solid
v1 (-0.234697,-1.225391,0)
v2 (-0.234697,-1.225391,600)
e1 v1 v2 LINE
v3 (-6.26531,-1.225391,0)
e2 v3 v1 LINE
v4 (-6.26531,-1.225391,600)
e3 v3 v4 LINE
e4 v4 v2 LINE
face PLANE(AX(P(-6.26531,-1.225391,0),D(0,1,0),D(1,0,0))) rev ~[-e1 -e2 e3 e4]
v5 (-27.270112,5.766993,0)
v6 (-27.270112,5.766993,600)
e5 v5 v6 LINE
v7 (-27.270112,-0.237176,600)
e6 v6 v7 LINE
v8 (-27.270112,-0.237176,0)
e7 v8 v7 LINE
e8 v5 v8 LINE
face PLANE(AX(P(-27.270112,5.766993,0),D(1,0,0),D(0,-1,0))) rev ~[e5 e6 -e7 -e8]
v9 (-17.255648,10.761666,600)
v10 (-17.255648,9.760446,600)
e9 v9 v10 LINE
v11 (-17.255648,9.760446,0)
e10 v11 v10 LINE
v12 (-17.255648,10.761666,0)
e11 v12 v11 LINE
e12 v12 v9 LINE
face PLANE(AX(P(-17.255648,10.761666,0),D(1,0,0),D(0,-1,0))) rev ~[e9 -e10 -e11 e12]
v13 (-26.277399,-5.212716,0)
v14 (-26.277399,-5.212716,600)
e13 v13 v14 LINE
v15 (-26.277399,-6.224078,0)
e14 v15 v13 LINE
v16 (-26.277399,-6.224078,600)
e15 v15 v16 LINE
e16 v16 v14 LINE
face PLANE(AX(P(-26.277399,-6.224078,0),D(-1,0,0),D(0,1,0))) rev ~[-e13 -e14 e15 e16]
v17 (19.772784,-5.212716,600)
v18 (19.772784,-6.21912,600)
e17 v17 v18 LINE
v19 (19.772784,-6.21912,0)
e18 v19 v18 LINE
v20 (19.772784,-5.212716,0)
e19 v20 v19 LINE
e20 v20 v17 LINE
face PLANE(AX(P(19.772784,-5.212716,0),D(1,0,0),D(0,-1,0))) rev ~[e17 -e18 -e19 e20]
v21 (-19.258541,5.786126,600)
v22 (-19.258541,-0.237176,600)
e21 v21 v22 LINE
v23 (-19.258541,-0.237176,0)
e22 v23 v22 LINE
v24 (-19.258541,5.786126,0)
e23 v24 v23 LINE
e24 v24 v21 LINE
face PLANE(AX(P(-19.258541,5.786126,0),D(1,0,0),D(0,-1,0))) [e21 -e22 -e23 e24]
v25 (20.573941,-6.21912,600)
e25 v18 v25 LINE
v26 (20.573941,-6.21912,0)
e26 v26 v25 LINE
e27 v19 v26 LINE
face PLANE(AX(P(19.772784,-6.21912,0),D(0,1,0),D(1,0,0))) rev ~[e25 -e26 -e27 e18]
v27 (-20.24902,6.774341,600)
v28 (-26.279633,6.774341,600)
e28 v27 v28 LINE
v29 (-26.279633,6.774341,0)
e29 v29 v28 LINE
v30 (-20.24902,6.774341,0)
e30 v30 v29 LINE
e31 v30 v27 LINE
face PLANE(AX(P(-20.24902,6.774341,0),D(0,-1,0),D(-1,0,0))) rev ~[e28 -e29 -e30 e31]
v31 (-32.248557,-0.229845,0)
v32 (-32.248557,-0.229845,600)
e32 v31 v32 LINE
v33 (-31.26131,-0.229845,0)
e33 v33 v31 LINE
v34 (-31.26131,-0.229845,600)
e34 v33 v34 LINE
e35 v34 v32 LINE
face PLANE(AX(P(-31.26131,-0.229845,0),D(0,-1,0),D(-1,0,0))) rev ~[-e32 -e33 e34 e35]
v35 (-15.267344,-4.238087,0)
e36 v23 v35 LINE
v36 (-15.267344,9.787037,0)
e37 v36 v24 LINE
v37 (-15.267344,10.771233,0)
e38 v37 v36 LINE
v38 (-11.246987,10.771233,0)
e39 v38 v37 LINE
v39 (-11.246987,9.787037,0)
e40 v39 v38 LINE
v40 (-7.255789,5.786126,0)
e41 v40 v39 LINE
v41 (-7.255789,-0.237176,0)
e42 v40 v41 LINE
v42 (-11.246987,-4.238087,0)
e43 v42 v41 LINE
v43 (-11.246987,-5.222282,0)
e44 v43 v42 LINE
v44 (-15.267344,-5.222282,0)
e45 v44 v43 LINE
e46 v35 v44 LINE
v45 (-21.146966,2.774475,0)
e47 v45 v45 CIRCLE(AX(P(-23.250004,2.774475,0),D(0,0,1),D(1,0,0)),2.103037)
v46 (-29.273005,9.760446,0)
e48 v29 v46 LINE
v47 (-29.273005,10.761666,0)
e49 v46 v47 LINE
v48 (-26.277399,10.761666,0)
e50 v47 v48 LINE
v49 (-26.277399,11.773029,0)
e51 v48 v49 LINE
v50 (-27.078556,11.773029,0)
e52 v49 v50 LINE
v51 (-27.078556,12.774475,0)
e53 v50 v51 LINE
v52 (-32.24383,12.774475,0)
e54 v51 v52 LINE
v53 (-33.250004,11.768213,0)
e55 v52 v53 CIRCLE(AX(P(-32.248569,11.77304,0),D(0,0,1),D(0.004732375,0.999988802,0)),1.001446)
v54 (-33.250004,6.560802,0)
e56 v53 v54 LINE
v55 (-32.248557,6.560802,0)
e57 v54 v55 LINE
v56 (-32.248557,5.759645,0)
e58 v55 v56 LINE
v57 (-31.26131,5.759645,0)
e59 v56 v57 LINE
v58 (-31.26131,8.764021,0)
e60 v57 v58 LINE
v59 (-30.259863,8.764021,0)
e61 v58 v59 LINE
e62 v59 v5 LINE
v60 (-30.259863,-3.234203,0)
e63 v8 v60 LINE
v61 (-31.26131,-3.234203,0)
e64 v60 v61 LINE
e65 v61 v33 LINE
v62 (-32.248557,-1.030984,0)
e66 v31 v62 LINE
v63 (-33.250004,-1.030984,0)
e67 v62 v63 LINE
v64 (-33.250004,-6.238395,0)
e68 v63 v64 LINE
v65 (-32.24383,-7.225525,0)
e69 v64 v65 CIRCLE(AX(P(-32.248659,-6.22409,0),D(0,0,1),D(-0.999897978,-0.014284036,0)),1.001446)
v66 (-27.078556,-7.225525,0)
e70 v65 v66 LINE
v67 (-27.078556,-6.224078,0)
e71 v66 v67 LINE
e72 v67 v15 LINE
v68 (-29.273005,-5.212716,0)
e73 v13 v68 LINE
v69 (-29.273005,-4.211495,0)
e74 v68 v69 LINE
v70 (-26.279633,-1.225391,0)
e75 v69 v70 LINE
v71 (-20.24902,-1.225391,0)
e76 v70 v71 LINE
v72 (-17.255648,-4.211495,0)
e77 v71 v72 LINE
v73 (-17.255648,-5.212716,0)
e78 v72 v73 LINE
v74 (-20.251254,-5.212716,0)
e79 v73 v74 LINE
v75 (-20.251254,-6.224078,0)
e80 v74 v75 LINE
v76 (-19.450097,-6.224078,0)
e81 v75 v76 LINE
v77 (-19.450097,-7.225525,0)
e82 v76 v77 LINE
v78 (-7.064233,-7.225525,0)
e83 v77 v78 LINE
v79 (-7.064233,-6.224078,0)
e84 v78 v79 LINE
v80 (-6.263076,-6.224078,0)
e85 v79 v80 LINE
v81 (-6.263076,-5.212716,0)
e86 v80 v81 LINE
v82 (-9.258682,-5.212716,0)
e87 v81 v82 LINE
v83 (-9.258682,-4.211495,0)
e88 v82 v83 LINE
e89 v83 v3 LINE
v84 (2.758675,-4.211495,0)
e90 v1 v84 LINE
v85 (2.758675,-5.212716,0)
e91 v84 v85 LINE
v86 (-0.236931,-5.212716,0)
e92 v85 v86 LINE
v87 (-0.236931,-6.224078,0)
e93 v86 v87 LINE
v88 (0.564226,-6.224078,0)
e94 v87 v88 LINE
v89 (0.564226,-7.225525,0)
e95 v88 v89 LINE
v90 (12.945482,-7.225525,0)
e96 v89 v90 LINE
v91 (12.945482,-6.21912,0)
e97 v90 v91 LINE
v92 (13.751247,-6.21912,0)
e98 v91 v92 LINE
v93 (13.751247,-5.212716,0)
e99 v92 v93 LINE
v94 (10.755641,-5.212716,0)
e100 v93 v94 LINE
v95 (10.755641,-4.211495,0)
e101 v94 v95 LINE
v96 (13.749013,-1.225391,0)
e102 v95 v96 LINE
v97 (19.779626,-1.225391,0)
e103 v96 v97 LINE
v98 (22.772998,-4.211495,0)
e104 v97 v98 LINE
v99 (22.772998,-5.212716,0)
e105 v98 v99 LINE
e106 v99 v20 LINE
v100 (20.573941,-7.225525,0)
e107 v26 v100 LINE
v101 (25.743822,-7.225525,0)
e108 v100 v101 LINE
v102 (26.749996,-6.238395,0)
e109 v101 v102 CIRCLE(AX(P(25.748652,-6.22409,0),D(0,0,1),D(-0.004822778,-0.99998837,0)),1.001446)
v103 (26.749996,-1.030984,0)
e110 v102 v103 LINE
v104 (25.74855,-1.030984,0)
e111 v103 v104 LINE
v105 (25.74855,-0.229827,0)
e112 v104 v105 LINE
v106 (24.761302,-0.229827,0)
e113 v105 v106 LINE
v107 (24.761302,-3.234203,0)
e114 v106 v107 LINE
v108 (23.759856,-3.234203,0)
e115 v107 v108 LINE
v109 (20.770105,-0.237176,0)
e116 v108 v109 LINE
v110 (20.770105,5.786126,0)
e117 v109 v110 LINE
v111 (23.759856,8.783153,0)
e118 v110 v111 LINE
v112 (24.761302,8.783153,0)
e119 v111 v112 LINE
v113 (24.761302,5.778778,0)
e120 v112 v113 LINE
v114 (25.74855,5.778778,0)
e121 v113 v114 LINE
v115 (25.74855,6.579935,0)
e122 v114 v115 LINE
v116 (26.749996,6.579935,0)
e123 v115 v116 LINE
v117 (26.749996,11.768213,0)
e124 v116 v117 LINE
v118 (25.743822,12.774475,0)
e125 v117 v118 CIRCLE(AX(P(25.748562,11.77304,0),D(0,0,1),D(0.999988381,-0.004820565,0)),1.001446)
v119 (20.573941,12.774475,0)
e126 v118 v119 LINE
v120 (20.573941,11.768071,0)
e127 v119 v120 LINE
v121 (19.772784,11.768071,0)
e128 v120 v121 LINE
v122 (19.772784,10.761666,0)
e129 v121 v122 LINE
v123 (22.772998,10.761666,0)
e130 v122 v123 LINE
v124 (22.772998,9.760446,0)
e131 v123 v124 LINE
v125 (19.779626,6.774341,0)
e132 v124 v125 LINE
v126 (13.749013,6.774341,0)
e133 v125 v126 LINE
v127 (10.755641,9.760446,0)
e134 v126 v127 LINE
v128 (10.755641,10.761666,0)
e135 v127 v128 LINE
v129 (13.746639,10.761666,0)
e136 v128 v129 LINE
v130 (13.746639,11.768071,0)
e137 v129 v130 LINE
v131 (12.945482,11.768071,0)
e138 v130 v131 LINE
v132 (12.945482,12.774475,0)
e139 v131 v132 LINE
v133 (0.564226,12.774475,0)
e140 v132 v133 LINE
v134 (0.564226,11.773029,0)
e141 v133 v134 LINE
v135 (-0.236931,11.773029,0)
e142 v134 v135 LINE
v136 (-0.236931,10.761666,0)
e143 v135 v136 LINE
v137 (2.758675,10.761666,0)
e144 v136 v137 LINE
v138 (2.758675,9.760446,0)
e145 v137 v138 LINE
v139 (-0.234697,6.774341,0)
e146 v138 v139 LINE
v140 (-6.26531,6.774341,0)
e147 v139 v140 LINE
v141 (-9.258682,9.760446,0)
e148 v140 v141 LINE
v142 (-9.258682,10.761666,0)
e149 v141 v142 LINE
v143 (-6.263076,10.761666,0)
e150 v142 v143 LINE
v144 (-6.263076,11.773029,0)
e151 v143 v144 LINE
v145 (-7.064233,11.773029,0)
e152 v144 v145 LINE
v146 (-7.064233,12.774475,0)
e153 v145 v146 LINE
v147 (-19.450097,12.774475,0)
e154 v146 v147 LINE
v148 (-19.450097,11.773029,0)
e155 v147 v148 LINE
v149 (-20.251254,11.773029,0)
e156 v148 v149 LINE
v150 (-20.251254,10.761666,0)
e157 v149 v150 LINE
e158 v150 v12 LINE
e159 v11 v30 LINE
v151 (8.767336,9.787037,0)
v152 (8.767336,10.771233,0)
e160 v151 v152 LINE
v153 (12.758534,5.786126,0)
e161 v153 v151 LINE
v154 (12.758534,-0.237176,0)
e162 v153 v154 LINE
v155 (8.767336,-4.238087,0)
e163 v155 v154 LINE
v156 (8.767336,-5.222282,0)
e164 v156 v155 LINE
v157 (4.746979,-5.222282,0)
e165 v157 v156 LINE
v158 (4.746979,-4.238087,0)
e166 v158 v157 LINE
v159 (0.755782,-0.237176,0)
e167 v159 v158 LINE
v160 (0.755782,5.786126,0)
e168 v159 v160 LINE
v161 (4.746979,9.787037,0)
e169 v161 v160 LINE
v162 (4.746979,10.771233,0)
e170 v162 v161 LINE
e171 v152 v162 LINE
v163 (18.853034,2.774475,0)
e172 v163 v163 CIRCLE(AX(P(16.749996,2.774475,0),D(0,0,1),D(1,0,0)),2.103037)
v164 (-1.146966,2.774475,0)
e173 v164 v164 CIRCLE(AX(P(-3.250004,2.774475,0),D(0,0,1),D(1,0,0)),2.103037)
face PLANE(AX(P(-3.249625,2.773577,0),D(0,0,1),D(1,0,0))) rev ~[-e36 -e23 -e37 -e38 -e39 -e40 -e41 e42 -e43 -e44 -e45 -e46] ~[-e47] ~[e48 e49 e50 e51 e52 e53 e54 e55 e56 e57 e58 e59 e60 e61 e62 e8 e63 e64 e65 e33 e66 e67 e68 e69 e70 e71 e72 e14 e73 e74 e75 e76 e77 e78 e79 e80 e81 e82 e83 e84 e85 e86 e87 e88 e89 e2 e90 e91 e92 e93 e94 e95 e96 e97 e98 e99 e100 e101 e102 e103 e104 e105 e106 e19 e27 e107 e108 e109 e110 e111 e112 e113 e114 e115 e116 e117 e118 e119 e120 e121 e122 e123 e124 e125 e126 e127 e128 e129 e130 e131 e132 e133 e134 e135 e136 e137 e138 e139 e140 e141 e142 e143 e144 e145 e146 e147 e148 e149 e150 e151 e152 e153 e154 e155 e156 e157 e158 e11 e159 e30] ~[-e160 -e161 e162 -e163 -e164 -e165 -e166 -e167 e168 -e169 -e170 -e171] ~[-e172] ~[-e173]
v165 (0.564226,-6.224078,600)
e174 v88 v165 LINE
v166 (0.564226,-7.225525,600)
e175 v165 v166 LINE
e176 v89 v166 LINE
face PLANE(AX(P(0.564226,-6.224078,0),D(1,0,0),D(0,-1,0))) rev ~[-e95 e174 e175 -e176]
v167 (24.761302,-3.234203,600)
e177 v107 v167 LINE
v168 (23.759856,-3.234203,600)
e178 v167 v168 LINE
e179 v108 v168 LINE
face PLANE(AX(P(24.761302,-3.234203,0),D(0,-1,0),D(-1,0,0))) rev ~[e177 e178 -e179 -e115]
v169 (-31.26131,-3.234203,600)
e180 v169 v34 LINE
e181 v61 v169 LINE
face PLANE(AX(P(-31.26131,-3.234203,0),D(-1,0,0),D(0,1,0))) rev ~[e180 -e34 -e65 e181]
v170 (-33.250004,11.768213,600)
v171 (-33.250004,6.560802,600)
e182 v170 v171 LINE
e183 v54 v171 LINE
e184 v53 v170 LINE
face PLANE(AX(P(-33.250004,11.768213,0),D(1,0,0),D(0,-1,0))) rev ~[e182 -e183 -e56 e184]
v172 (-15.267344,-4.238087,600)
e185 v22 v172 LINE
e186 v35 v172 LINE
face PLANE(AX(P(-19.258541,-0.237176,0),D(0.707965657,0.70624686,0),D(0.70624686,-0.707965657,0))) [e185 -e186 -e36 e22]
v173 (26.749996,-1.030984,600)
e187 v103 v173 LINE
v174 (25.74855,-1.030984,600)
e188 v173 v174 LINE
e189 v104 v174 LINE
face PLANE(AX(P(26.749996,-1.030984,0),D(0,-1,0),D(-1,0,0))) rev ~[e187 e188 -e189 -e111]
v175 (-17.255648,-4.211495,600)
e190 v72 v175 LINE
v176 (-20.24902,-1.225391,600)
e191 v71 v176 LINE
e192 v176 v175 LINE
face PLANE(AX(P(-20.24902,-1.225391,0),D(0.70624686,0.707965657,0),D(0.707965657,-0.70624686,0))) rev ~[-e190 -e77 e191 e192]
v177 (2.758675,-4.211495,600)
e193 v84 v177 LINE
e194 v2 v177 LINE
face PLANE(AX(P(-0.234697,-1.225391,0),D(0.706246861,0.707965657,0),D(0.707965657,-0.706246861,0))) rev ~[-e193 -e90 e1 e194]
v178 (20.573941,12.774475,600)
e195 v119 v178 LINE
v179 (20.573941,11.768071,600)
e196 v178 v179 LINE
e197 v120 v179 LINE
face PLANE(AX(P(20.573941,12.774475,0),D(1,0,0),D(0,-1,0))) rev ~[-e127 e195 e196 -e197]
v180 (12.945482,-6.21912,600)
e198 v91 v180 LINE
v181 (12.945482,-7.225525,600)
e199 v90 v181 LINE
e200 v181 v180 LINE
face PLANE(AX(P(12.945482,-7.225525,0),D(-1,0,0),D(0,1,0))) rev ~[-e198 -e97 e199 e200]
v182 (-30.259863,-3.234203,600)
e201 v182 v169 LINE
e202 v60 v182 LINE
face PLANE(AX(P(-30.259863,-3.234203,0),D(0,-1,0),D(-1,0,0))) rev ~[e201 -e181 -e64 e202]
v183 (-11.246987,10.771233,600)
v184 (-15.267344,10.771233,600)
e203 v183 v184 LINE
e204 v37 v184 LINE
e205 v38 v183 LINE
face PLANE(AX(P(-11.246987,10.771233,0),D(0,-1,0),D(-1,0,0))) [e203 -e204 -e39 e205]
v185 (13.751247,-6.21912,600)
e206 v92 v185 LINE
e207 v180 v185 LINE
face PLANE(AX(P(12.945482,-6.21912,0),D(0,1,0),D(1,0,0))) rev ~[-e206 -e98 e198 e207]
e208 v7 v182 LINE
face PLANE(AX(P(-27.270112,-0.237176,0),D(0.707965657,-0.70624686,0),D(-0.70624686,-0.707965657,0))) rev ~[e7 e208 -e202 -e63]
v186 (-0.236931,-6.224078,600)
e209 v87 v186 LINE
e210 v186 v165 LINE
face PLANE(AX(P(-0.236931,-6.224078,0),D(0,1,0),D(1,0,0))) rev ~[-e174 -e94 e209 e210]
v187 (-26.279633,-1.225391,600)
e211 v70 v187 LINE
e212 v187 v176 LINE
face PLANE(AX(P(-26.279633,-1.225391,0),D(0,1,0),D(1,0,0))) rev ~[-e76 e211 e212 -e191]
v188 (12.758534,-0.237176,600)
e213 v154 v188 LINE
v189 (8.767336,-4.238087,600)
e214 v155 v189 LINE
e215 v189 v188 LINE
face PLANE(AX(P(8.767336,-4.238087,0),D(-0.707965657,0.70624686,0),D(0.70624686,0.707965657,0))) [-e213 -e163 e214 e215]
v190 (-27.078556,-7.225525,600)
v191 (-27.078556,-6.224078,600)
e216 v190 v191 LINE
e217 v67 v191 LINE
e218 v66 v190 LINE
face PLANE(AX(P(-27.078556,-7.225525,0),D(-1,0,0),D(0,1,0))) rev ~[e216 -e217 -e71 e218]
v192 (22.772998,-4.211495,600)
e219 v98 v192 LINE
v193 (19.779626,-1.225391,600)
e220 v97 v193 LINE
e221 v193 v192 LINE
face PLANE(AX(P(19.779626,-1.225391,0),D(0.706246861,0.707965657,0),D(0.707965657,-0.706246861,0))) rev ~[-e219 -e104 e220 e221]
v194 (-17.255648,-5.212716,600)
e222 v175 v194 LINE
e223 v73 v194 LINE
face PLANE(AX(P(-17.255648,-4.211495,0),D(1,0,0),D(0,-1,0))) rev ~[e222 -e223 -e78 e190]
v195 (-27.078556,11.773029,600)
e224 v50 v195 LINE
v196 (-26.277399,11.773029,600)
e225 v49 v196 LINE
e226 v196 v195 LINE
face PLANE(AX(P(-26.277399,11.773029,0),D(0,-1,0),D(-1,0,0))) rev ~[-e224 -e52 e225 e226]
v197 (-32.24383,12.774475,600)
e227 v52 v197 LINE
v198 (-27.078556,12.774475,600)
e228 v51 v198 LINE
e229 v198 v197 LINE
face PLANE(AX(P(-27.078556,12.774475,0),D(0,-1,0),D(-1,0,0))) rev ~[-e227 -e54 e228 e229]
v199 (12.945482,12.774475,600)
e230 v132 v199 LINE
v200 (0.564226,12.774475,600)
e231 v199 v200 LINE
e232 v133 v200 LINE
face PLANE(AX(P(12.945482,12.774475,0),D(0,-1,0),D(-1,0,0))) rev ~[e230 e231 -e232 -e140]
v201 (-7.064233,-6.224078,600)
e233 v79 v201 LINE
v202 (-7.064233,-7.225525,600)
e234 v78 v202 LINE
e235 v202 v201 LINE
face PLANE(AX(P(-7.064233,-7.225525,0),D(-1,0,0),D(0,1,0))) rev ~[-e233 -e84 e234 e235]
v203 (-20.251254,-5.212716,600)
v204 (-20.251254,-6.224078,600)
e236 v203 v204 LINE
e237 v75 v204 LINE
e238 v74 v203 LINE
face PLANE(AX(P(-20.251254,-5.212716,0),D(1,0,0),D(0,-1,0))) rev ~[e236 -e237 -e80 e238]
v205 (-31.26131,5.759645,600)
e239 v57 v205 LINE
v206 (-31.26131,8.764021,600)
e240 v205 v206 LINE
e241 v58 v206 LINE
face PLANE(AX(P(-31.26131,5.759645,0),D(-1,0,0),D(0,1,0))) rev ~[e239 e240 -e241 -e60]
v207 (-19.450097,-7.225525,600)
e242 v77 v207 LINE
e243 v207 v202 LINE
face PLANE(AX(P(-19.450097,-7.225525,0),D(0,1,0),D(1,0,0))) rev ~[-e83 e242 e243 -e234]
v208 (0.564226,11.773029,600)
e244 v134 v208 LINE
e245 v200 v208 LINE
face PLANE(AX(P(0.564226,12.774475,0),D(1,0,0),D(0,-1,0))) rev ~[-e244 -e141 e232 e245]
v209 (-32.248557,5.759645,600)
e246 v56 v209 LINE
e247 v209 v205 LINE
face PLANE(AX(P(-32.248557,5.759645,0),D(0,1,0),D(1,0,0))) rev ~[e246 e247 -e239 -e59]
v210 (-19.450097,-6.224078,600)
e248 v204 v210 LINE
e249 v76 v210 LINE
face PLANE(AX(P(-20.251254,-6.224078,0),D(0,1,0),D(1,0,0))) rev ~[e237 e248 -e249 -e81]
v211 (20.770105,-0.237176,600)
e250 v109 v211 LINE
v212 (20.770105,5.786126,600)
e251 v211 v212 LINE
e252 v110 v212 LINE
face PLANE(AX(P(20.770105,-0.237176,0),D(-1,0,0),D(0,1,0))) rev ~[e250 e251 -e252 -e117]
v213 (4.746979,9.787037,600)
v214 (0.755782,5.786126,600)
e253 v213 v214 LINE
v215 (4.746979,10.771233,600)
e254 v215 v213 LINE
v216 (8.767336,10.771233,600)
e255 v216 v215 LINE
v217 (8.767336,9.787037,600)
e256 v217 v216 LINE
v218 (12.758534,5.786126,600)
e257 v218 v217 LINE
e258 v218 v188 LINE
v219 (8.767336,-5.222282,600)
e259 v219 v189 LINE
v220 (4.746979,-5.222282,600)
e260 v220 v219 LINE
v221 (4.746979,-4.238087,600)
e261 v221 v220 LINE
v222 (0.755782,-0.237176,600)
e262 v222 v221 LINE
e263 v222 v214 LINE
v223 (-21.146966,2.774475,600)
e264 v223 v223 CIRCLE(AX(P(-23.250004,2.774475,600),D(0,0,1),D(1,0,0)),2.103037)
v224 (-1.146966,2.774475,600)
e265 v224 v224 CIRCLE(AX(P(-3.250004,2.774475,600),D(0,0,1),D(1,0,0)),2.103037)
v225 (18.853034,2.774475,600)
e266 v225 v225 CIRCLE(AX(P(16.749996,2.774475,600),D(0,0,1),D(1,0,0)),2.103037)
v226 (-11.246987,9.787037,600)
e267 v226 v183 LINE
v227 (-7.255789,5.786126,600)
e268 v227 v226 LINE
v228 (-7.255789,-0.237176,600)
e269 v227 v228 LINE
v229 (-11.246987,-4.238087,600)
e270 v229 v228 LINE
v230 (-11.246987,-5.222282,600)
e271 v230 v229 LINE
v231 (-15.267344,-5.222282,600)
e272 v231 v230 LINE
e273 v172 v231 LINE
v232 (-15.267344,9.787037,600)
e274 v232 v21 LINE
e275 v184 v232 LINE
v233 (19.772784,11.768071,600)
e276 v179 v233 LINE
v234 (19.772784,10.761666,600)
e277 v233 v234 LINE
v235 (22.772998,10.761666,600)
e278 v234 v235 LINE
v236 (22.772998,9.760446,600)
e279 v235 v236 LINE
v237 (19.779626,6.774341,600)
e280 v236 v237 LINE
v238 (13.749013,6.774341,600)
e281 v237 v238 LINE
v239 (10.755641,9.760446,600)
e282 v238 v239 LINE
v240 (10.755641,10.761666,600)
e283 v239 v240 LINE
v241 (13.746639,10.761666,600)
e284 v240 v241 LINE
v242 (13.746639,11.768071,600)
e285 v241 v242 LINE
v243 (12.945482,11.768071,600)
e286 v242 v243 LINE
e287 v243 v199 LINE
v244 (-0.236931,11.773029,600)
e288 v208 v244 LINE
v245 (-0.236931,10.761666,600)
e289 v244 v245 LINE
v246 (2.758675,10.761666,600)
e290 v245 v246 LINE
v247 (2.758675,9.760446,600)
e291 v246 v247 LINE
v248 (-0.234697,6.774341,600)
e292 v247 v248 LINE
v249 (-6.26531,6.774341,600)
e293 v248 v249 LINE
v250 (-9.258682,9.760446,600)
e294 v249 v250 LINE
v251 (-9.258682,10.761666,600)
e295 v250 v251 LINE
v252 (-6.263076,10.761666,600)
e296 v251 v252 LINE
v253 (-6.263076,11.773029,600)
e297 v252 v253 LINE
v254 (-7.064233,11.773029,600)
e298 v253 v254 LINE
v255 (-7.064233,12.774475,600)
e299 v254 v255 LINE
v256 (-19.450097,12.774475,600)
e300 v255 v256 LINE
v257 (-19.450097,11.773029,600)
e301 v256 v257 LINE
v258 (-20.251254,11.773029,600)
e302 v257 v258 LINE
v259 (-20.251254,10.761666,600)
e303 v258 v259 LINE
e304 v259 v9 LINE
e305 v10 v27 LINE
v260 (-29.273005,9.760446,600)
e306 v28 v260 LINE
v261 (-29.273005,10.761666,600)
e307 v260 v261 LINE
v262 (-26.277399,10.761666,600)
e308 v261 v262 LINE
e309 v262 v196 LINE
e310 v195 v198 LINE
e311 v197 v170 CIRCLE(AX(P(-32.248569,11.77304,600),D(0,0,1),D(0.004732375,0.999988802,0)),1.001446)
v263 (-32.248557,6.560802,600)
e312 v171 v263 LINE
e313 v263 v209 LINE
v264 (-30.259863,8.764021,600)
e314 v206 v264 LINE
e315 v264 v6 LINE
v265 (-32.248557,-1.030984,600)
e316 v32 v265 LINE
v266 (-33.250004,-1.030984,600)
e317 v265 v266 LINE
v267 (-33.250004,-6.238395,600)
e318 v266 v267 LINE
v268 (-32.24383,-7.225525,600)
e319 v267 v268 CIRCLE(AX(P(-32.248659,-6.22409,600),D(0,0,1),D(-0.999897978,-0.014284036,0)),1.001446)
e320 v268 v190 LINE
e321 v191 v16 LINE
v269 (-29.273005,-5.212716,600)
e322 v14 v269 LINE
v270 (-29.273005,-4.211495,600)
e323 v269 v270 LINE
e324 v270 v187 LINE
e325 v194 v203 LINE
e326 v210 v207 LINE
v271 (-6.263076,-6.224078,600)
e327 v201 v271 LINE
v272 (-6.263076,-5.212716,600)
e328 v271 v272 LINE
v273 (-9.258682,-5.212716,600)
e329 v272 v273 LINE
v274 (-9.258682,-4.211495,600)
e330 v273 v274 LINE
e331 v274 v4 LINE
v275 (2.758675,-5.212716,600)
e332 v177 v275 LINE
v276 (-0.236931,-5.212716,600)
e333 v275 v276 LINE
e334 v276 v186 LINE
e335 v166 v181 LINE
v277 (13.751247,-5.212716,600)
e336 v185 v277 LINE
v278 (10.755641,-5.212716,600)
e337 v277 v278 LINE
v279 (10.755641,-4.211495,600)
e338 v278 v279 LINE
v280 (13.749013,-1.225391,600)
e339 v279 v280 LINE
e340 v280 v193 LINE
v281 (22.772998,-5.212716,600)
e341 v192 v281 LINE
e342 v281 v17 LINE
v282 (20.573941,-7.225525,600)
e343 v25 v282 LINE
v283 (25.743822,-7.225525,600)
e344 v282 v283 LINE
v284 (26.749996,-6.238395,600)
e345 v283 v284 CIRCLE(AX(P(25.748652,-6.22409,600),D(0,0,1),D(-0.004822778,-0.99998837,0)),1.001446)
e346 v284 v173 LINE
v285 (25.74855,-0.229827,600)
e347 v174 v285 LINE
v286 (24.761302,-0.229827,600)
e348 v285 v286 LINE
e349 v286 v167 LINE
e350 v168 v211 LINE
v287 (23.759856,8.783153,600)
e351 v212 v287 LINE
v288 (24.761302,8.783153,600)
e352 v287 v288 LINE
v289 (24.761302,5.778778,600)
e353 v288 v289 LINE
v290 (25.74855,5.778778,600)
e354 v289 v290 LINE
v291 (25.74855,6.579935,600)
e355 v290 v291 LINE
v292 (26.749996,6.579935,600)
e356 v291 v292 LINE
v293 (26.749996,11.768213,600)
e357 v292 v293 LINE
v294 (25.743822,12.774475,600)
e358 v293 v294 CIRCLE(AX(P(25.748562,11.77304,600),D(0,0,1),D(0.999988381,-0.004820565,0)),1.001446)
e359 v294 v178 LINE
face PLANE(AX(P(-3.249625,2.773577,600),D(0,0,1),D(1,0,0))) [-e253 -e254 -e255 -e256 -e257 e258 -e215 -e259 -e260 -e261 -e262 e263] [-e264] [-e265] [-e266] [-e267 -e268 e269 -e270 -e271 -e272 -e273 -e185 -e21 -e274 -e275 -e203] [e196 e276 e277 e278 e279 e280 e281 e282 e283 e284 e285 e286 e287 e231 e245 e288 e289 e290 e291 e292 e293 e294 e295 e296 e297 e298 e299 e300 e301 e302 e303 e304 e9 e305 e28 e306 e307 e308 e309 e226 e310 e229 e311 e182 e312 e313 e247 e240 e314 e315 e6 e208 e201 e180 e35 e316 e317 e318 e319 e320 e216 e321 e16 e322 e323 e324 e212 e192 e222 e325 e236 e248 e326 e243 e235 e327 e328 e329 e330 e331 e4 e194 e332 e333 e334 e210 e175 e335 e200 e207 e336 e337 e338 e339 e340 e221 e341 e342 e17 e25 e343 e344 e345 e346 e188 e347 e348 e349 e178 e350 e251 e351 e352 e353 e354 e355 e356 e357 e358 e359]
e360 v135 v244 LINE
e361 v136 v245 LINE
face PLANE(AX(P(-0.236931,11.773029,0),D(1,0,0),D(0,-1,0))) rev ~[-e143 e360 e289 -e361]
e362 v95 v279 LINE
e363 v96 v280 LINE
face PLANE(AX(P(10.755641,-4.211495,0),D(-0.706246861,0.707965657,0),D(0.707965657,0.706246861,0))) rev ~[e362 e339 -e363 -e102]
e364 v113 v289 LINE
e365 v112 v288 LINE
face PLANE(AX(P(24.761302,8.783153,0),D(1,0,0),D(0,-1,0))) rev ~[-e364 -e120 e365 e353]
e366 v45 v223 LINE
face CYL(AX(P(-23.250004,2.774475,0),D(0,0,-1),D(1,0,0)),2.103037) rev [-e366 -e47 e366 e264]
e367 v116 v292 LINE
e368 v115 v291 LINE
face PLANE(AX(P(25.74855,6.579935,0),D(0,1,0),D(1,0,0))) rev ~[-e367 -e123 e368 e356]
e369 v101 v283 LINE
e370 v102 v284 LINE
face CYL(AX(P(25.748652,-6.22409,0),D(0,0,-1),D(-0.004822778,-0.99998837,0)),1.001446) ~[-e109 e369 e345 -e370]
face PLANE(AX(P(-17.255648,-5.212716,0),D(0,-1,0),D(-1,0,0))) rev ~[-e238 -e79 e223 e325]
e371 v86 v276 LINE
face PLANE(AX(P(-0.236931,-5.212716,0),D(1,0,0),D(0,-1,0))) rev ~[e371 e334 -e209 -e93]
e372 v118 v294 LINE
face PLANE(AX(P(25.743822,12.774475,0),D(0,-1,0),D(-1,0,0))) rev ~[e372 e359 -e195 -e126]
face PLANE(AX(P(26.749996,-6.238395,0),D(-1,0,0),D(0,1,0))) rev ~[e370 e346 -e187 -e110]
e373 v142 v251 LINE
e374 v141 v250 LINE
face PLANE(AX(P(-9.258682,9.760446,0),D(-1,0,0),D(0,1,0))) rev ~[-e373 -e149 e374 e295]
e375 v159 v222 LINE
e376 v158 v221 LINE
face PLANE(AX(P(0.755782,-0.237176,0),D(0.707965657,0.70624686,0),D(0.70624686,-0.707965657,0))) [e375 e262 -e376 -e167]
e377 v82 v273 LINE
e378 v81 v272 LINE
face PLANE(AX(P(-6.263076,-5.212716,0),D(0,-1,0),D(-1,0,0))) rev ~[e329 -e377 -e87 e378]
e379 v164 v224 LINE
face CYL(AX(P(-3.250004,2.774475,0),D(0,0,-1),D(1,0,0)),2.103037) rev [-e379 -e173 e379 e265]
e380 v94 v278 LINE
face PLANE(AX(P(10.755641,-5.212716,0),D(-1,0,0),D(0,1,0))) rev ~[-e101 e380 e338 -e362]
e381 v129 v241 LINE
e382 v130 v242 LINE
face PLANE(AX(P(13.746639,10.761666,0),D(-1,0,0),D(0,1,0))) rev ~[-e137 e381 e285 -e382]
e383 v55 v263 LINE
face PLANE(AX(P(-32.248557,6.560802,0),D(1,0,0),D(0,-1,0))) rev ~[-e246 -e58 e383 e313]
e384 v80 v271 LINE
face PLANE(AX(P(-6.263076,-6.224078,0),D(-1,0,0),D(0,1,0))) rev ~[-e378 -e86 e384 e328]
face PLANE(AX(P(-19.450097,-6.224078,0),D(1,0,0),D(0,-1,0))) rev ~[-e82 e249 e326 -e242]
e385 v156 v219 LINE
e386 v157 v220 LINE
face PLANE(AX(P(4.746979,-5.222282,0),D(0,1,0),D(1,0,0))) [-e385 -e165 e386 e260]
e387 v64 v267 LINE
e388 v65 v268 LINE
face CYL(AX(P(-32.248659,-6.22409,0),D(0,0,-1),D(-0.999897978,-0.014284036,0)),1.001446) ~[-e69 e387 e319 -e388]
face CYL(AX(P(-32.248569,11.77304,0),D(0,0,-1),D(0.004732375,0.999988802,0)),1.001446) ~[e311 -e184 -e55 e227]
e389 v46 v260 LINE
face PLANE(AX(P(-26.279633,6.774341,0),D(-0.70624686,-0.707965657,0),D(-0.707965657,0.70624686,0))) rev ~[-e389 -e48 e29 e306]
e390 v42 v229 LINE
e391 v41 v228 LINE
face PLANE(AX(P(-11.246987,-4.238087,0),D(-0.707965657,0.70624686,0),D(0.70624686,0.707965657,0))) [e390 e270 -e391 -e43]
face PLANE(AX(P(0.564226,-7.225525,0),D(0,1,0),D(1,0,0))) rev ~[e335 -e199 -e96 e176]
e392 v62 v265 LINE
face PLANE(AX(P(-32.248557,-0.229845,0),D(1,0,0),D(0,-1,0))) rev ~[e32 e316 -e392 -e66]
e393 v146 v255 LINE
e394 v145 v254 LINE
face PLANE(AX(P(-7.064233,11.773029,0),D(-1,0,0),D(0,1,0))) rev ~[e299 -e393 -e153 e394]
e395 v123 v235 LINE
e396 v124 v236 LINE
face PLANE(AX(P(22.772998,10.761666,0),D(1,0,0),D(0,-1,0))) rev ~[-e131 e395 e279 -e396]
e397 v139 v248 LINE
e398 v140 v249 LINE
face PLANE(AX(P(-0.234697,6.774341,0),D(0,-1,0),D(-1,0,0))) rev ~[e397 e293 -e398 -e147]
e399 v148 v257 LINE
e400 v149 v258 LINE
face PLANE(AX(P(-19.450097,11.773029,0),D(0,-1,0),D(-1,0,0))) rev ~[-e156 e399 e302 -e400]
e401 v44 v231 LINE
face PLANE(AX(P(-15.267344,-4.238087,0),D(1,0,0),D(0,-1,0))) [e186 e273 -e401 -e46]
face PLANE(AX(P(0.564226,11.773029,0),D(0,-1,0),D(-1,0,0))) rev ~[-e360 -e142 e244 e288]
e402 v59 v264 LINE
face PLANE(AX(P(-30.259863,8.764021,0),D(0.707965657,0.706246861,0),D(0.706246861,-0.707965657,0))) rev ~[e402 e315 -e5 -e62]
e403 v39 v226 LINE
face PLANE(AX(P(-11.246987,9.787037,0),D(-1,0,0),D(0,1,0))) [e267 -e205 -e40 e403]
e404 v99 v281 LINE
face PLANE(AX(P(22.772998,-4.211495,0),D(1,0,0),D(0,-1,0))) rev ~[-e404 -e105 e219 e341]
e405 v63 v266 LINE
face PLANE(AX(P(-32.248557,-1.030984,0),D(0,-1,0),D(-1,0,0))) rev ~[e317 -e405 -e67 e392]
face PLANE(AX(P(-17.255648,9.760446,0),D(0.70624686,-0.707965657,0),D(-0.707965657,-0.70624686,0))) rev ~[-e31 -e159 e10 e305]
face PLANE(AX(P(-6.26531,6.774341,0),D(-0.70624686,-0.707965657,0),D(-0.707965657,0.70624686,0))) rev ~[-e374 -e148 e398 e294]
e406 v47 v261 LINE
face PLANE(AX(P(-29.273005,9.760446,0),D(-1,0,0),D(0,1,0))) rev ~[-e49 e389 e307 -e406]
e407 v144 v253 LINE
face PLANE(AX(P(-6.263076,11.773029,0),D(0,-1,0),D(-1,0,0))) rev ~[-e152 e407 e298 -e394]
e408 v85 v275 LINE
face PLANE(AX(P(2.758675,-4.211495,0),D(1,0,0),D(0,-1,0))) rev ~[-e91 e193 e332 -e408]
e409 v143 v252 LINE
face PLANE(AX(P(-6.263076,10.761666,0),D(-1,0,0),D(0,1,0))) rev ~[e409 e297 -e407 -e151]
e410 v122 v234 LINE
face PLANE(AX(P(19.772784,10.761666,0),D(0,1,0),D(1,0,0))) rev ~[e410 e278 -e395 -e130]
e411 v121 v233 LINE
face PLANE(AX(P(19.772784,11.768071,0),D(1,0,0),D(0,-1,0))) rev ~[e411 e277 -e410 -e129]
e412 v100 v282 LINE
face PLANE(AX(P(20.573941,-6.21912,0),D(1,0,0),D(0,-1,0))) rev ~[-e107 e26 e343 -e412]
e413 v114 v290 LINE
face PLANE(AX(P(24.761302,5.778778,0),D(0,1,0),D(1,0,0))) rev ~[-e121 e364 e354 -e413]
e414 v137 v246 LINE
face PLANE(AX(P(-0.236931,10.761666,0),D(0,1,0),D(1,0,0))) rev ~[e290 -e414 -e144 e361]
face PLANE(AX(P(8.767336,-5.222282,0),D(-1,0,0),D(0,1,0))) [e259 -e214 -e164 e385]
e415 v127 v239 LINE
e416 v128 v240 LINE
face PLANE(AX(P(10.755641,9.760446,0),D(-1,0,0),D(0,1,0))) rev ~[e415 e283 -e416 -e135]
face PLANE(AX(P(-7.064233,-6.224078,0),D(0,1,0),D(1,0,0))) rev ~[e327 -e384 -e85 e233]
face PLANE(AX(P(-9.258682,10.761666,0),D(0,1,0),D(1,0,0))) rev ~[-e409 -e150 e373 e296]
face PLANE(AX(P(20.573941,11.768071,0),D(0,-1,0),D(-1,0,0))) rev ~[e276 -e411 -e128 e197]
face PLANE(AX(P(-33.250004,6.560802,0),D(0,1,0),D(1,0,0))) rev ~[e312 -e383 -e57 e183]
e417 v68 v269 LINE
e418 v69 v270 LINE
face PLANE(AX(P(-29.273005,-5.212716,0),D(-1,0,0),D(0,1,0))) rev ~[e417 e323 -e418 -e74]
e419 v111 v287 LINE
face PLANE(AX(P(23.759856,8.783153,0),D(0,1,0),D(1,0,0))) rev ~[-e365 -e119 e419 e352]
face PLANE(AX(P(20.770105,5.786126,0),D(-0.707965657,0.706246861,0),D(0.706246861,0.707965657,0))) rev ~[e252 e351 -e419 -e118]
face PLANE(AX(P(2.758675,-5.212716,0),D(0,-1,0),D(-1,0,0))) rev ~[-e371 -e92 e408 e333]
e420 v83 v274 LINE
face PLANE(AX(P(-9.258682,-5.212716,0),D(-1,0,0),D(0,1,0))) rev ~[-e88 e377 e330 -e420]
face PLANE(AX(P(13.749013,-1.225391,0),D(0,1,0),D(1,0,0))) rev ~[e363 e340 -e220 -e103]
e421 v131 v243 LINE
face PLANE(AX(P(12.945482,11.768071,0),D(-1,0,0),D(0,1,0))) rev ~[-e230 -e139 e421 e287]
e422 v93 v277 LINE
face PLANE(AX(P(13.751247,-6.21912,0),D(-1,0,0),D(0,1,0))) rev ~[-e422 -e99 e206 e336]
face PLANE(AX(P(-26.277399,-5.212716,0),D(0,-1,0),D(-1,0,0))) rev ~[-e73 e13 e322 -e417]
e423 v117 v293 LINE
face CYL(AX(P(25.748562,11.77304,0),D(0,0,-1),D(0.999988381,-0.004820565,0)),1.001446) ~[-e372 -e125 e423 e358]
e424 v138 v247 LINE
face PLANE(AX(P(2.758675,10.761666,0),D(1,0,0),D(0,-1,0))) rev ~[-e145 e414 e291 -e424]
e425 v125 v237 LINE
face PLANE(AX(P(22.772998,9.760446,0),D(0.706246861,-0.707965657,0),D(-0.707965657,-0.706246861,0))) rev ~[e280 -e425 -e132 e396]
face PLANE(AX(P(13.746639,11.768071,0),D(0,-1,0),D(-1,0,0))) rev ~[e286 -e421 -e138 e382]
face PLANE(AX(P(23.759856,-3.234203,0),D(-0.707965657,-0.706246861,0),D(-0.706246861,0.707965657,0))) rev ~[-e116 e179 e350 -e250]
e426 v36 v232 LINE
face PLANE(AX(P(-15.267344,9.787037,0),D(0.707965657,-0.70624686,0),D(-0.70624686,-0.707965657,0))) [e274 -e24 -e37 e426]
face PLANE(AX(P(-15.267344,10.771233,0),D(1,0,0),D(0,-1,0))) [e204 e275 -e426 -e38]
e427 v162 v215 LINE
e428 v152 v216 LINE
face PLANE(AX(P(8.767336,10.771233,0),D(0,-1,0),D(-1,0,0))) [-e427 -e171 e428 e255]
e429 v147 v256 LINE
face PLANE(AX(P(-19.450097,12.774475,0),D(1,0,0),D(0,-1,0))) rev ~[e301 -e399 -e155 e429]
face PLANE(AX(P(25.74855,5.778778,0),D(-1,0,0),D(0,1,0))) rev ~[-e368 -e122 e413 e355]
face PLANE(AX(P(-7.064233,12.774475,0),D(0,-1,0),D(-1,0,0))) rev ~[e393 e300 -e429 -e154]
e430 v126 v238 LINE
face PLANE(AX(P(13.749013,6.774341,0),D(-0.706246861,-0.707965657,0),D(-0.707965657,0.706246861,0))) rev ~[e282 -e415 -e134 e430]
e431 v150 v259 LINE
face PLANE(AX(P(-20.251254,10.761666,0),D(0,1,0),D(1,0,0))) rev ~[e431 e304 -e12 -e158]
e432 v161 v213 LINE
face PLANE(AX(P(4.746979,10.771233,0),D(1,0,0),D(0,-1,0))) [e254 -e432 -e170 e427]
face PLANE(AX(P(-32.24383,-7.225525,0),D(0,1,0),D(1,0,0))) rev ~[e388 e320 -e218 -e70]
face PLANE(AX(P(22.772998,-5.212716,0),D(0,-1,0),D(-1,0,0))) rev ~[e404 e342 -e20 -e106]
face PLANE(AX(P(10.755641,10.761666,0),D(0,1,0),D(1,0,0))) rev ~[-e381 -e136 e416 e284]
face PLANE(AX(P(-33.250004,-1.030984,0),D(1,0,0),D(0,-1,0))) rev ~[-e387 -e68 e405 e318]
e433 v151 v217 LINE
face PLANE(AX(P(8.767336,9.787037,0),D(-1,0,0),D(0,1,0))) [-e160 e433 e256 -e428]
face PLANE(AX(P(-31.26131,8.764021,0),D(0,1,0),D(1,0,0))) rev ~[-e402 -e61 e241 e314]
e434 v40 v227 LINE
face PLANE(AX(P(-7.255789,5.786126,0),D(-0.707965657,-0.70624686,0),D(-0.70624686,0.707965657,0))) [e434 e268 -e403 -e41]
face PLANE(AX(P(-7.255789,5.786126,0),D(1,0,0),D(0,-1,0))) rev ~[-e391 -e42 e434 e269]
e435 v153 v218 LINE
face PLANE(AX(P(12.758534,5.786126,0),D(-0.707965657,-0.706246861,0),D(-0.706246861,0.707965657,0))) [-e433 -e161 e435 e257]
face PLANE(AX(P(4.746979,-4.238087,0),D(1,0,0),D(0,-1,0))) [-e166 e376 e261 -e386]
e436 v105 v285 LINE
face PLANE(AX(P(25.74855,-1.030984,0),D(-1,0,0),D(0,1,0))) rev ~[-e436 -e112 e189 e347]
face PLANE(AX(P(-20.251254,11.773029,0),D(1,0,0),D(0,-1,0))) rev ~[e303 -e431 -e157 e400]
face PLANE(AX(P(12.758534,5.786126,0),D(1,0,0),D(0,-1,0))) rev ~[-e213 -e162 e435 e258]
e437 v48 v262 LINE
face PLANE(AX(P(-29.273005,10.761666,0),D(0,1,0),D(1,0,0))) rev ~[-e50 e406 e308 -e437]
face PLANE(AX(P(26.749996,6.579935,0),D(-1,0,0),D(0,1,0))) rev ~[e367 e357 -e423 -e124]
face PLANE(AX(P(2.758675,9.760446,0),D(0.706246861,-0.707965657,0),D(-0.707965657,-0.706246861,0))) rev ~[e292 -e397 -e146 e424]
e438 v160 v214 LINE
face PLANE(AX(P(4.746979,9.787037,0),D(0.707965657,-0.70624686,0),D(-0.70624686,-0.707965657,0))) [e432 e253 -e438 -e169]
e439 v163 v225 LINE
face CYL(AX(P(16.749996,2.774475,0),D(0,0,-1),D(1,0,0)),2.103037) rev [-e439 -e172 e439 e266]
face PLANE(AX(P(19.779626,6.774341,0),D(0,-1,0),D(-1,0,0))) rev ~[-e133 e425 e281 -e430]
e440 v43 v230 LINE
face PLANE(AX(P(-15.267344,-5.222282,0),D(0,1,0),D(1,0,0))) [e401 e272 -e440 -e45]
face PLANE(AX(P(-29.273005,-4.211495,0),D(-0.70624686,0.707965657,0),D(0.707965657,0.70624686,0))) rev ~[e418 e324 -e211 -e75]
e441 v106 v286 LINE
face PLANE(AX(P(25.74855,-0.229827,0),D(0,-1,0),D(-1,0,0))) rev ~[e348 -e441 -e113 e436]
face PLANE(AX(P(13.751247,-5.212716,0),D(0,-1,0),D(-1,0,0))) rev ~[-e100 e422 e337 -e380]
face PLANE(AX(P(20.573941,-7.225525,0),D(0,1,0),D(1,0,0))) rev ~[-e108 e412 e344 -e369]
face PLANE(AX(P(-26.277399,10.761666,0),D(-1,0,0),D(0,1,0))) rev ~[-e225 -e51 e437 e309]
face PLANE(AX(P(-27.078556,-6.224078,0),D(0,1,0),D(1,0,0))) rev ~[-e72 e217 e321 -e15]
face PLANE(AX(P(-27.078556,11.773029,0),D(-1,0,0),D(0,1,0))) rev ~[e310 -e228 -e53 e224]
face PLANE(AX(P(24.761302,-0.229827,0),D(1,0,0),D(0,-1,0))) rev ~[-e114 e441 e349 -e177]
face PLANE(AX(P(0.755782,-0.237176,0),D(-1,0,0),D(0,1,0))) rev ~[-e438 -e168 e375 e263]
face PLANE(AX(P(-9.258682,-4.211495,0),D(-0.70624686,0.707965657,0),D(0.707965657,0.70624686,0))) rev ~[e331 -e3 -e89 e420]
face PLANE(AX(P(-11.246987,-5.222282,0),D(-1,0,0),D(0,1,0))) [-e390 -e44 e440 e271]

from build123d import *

# Parameters (mm, degrees)
SKETCH_1_R      = 2.103037388
EXTRUDE_1_DEPTH = 600


with BuildPart() as part:
    # 草图1 → 凸台-拉伸1 (new body)
    with BuildSketch(Plane.XY):
        with BuildLine():
            Line((-32.248557314, -0.229845073), (-32.248557314, -1.030984477))
            Line((-32.248557314, -1.030984477), (-33.250003689, -1.030984477))
            Line((-33.250003689, -1.030984477), (-33.250003689, -6.238394755))
            ThreePointArc((-33.250003689, -6.238394755), (-32.949991565, -6.938952391), (-32.24382973, -7.225524788))
            Line((-32.24382973, -7.225524788), (-27.078556151, -7.225524788))
            Line((-27.078556151, -7.225524788), (-27.078556151, -6.224078413))
            Line((-27.078556151, -6.224078413), (-26.277399051, -6.224078413))
            Line((-26.277399051, -6.224078413), (-26.277399051, -5.212715786))
            Line((-26.277399051, -5.212715786), (-29.27300496, -5.212715786))
            Line((-29.27300496, -5.212715786), (-29.27300496, -4.211495229))
            Line((-29.27300496, -4.211495229), (-26.279632969, -1.225390538))
            Line((-26.279632969, -1.225390538), (-20.24902045, -1.225390538))
            Line((-20.24902045, -1.225390538), (-17.255648459, -4.211495229))
            Line((-17.255648459, -4.211495229), (-17.255648459, -5.212715786))
            Line((-17.255648459, -5.212715786), (-20.251254368, -5.212715786))
            Line((-20.251254368, -5.212715786), (-20.251254368, -6.224078413))
            Line((-20.251254368, -6.224078413), (-19.450097268, -6.224078413))
            Line((-19.450097268, -6.224078413), (-19.450097268, -7.225524788))
            Line((-19.450097268, -7.225524788), (-7.064233131, -7.225524788))
            Line((-7.064233131, -7.225524788), (-7.064233131, -6.224078413))
            Line((-7.064233131, -6.224078413), (-6.263076031, -6.224078413))
            Line((-6.263076031, -6.224078413), (-6.263076031, -5.212715786))
            Line((-6.263076031, -5.212715786), (-9.25868194, -5.212715786))
            Line((-9.25868194, -5.212715786), (-9.25868194, -4.211495229))
            Line((-9.25868194, -4.211495229), (-6.265309949, -1.225390538))
            Line((-6.265309949, -1.225390538), (-0.234697429, -1.225390538))
            Line((-0.234697429, -1.225390538), (2.758674561, -4.211495229))
            Line((2.758674561, -4.211495229), (2.758674561, -5.212715786))
            Line((2.758674561, -5.212715786), (-0.236931348, -5.212715786))
            Line((-0.236931348, -5.212715786), (-0.236931348, -6.224078413))
            Line((-0.236931348, -6.224078413), (0.564225752, -6.224078413))
            Line((0.564225752, -6.224078413), (0.564225752, -7.225524788))
            Line((0.564225752, -7.225524788), (12.945482254, -7.225524788))
            Line((12.945482254, -7.225524788), (12.945482254, -6.219120287))
            Line((12.945482254, -6.219120287), (13.751246989, -6.219120287))
            Line((13.751246989, -6.219120287), (13.751246989, -5.212715786))
            Line((13.751246989, -5.212715786), (10.755641081, -5.212715786))
            Line((10.755641081, -5.212715786), (10.755641081, -4.211495229))
            Line((10.755641081, -4.211495229), (13.749013071, -1.225390538))
            Line((13.749013071, -1.225390538), (19.779625591, -1.225390538))
            Line((19.779625591, -1.225390538), (22.772997581, -4.211495229))
            Line((22.772997581, -4.211495229), (22.772997581, -5.212715786))
            Line((22.772997581, -5.212715786), (19.772784037, -5.212715786))
            Line((19.772784037, -5.212715786), (19.772784037, -6.219120287))
            Line((19.772784037, -6.219120287), (20.573941137, -6.219120287))
            Line((20.573941137, -6.219120287), (20.573941137, -7.225524788))
            Line((20.573941137, -7.225524788), (25.743822351, -7.225524788))
            ThreePointArc((25.743822351, -7.225524788), (26.449984187, -6.938952391), (26.749996311, -6.238394755))
            Line((26.749996311, -6.238394755), (26.749996311, -1.030984477))
            Line((26.749996311, -1.030984477), (25.748549936, -1.030984477))
            Line((25.748549936, -1.030984477), (25.748549936, -0.229827377))
            Line((25.748549936, -0.229827377), (24.761302481, -0.229827377))
            Line((24.761302481, -0.229827377), (24.761302481, -3.234203038))
            Line((24.761302481, -3.234203038), (23.759856106, -3.234203038))
            Line((23.759856106, -3.234203038), (20.770104831, -0.237175589))
            Line((20.770104831, -0.237175589), (20.770104831, 5.786126014))
            Line((20.770104831, 5.786126014), (23.759856106, 8.783153462))
            Line((23.759856106, 8.783153462), (24.761302481, 8.783153462))
            Line((24.761302481, 8.783153462), (24.761302481, 5.778777801))
            Line((24.761302481, 5.778777801), (25.748549936, 5.778777801))
            Line((25.748549936, 5.778777801), (25.748549936, 6.579934901))
            Line((25.748549936, 6.579934901), (26.749996311, 6.579934901))
            Line((26.749996311, 6.579934901), (26.749996311, 11.768212512))
            ThreePointArc((26.749996311, 11.768212512), (26.456722319, 12.481138347), (25.743822351, 12.774475212))
            Line((25.743822351, 12.774475212), (20.573941137, 12.774475212))
            Line((20.573941137, 12.774475212), (20.573941137, 11.768070711))
            Line((20.573941137, 11.768070711), (19.772784037, 11.768070711))
            Line((19.772784037, 11.768070711), (19.772784037, 10.761666211))
            Line((19.772784037, 10.761666211), (22.772997581, 10.761666211))
            Line((22.772997581, 10.761666211), (22.772997581, 9.760445653))
            Line((22.772997581, 9.760445653), (19.779625591, 6.774340962))
            Line((19.779625591, 6.774340962), (13.749013071, 6.774340962))
            Line((13.749013071, 6.774340962), (10.755641081, 9.760445653))
            Line((10.755641081, 9.760445653), (10.755641081, 10.761666211))
            Line((10.755641081, 10.761666211), (13.746639354, 10.761666211))
            Line((13.746639354, 10.761666211), (13.746639354, 11.768070711))
            Line((13.746639354, 11.768070711), (12.945482254, 11.768070711))
            Line((12.945482254, 11.768070711), (12.945482254, 12.774475212))
            Line((12.945482254, 12.774475212), (0.564225752, 12.774475212))
            Line((0.564225752, 12.774475212), (0.564225752, 11.773028837))
            Line((0.564225752, 11.773028837), (-0.236931348, 11.773028837))
            Line((-0.236931348, 11.773028837), (-0.236931348, 10.761666211))
            Line((-0.236931348, 10.761666211), (2.758674561, 10.761666211))
            Line((2.758674561, 10.761666211), (2.758674561, 9.760445653))
            Line((2.758674561, 9.760445653), (-0.234697429, 6.774340962))
            Line((-0.234697429, 6.774340962), (-6.265309949, 6.774340962))
            Line((-6.265309949, 6.774340962), (-9.25868194, 9.760445653))
            Line((-9.25868194, 9.760445653), (-9.25868194, 10.761666211))
            Line((-9.25868194, 10.761666211), (-6.263076031, 10.761666211))
            Line((-6.263076031, 10.761666211), (-6.263076031, 11.773028837))
            Line((-6.263076031, 11.773028837), (-7.064233131, 11.773028837))
            Line((-7.064233131, 11.773028837), (-7.064233131, 12.774475212))
            Line((-7.064233131, 12.774475212), (-19.450097268, 12.774475212))
            Line((-19.450097268, 12.774475212), (-19.450097268, 11.773028837))
            Line((-19.450097268, 11.773028837), (-20.251254368, 11.773028837))
            Line((-20.251254368, 11.773028837), (-20.251254368, 10.761666211))
            Line((-20.251254368, 10.761666211), (-17.255648459, 10.761666211))
            Line((-17.255648459, 10.761666211), (-17.255648459, 9.760445653))
            Line((-17.255648459, 9.760445653), (-20.24902045, 6.774340962))
            Line((-20.24902045, 6.774340962), (-26.279632969, 6.774340962))
            Line((-26.279632969, 6.774340962), (-29.27300496, 9.760445653))
            Line((-29.27300496, 9.760445653), (-29.27300496, 10.761666211))
            Line((-29.27300496, 10.761666211), (-26.277399051, 10.761666211))
            Line((-26.277399051, 10.761666211), (-26.277399051, 11.773028837))
            Line((-26.277399051, 11.773028837), (-27.078556151, 11.773028837))
            Line((-27.078556151, 11.773028837), (-27.078556151, 12.774475212))
            Line((-27.078556151, 12.774475212), (-32.24382973, 12.774475212))
            ThreePointArc((-32.24382973, 12.774475212), (-32.956729698, 12.481138347), (-33.250003689, 11.768212512))
            Line((-33.250003689, 11.768212512), (-33.250003689, 6.560802234))
            Line((-33.250003689, 6.560802234), (-32.248557314, 6.560802234))
            Line((-32.248557314, 6.560802234), (-32.248557314, 5.759645134))
            Line((-32.248557314, 5.759645134), (-31.261309859, 5.759645134))
            Line((-31.261309859, 5.759645134), (-31.261309859, 8.764020795))
            Line((-31.261309859, 8.764020795), (-30.259863484, 8.764020795))
            Line((-30.259863484, 8.764020795), (-27.27011221, 5.766993347))
            Line((-27.27011221, 5.766993347), (-27.27011221, -0.237175589))
            Line((-27.27011221, -0.237175589), (-30.259863484, -3.234203038))
            Line((-30.259863484, -3.234203038), (-31.261309859, -3.234203038))
            Line((-31.261309859, -3.234203038), (-31.261309859, -0.229845073))
            Line((-31.261309859, -0.229845073), (-32.248557314, -0.229845073))
        make_face()
        with Locations((-3.250003689, 2.774475212)):
            Circle(SKETCH_1_R, mode=Mode.SUBTRACT)
        with Locations((-23.250003689, 2.774475212)):
            Circle(SKETCH_1_R, mode=Mode.SUBTRACT)
        with Locations((16.749996311, 2.774475212)):
            Circle(SKETCH_1_R, mode=Mode.SUBTRACT)
        Polygon((-19.258541209, 5.786126014), (-19.258541209, -0.237175589), (-15.26734356, -4.238086639), (-15.26734356, -5.22228212), (-11.246986839, -5.22228212), (-11.246986839, -4.238086639), (-7.25578919, -0.237175589), (-7.25578919, 2.774475212), (-7.25578919, 5.786126014), (-11.246986839, 9.787037063), (-11.246986839, 10.771232544), (-15.26734356, 10.771232544), (-15.26734356, 9.787037063), align=None, mode=Mode.SUBTRACT)
        Polygon((4.74697946, -5.22228212), (8.767336181, -5.22228212), (8.767336181, -4.238086639), (12.758533831, -0.237175589), (12.758533831, 2.774475212), (12.758533831, 5.786126014), (8.767336181, 9.787037063), (8.767336181, 10.771232544), (4.74697946, 10.771232544), (4.74697946, 9.787037063), (0.755781811, 5.786126014), (0.755781811, 2.774475212), (0.755781811, -0.237175589), (4.74697946, -4.238086639), align=None, mode=Mode.SUBTRACT)
    extrude(amount=EXTRUDE_1_DEPTH)


solid = part.part
